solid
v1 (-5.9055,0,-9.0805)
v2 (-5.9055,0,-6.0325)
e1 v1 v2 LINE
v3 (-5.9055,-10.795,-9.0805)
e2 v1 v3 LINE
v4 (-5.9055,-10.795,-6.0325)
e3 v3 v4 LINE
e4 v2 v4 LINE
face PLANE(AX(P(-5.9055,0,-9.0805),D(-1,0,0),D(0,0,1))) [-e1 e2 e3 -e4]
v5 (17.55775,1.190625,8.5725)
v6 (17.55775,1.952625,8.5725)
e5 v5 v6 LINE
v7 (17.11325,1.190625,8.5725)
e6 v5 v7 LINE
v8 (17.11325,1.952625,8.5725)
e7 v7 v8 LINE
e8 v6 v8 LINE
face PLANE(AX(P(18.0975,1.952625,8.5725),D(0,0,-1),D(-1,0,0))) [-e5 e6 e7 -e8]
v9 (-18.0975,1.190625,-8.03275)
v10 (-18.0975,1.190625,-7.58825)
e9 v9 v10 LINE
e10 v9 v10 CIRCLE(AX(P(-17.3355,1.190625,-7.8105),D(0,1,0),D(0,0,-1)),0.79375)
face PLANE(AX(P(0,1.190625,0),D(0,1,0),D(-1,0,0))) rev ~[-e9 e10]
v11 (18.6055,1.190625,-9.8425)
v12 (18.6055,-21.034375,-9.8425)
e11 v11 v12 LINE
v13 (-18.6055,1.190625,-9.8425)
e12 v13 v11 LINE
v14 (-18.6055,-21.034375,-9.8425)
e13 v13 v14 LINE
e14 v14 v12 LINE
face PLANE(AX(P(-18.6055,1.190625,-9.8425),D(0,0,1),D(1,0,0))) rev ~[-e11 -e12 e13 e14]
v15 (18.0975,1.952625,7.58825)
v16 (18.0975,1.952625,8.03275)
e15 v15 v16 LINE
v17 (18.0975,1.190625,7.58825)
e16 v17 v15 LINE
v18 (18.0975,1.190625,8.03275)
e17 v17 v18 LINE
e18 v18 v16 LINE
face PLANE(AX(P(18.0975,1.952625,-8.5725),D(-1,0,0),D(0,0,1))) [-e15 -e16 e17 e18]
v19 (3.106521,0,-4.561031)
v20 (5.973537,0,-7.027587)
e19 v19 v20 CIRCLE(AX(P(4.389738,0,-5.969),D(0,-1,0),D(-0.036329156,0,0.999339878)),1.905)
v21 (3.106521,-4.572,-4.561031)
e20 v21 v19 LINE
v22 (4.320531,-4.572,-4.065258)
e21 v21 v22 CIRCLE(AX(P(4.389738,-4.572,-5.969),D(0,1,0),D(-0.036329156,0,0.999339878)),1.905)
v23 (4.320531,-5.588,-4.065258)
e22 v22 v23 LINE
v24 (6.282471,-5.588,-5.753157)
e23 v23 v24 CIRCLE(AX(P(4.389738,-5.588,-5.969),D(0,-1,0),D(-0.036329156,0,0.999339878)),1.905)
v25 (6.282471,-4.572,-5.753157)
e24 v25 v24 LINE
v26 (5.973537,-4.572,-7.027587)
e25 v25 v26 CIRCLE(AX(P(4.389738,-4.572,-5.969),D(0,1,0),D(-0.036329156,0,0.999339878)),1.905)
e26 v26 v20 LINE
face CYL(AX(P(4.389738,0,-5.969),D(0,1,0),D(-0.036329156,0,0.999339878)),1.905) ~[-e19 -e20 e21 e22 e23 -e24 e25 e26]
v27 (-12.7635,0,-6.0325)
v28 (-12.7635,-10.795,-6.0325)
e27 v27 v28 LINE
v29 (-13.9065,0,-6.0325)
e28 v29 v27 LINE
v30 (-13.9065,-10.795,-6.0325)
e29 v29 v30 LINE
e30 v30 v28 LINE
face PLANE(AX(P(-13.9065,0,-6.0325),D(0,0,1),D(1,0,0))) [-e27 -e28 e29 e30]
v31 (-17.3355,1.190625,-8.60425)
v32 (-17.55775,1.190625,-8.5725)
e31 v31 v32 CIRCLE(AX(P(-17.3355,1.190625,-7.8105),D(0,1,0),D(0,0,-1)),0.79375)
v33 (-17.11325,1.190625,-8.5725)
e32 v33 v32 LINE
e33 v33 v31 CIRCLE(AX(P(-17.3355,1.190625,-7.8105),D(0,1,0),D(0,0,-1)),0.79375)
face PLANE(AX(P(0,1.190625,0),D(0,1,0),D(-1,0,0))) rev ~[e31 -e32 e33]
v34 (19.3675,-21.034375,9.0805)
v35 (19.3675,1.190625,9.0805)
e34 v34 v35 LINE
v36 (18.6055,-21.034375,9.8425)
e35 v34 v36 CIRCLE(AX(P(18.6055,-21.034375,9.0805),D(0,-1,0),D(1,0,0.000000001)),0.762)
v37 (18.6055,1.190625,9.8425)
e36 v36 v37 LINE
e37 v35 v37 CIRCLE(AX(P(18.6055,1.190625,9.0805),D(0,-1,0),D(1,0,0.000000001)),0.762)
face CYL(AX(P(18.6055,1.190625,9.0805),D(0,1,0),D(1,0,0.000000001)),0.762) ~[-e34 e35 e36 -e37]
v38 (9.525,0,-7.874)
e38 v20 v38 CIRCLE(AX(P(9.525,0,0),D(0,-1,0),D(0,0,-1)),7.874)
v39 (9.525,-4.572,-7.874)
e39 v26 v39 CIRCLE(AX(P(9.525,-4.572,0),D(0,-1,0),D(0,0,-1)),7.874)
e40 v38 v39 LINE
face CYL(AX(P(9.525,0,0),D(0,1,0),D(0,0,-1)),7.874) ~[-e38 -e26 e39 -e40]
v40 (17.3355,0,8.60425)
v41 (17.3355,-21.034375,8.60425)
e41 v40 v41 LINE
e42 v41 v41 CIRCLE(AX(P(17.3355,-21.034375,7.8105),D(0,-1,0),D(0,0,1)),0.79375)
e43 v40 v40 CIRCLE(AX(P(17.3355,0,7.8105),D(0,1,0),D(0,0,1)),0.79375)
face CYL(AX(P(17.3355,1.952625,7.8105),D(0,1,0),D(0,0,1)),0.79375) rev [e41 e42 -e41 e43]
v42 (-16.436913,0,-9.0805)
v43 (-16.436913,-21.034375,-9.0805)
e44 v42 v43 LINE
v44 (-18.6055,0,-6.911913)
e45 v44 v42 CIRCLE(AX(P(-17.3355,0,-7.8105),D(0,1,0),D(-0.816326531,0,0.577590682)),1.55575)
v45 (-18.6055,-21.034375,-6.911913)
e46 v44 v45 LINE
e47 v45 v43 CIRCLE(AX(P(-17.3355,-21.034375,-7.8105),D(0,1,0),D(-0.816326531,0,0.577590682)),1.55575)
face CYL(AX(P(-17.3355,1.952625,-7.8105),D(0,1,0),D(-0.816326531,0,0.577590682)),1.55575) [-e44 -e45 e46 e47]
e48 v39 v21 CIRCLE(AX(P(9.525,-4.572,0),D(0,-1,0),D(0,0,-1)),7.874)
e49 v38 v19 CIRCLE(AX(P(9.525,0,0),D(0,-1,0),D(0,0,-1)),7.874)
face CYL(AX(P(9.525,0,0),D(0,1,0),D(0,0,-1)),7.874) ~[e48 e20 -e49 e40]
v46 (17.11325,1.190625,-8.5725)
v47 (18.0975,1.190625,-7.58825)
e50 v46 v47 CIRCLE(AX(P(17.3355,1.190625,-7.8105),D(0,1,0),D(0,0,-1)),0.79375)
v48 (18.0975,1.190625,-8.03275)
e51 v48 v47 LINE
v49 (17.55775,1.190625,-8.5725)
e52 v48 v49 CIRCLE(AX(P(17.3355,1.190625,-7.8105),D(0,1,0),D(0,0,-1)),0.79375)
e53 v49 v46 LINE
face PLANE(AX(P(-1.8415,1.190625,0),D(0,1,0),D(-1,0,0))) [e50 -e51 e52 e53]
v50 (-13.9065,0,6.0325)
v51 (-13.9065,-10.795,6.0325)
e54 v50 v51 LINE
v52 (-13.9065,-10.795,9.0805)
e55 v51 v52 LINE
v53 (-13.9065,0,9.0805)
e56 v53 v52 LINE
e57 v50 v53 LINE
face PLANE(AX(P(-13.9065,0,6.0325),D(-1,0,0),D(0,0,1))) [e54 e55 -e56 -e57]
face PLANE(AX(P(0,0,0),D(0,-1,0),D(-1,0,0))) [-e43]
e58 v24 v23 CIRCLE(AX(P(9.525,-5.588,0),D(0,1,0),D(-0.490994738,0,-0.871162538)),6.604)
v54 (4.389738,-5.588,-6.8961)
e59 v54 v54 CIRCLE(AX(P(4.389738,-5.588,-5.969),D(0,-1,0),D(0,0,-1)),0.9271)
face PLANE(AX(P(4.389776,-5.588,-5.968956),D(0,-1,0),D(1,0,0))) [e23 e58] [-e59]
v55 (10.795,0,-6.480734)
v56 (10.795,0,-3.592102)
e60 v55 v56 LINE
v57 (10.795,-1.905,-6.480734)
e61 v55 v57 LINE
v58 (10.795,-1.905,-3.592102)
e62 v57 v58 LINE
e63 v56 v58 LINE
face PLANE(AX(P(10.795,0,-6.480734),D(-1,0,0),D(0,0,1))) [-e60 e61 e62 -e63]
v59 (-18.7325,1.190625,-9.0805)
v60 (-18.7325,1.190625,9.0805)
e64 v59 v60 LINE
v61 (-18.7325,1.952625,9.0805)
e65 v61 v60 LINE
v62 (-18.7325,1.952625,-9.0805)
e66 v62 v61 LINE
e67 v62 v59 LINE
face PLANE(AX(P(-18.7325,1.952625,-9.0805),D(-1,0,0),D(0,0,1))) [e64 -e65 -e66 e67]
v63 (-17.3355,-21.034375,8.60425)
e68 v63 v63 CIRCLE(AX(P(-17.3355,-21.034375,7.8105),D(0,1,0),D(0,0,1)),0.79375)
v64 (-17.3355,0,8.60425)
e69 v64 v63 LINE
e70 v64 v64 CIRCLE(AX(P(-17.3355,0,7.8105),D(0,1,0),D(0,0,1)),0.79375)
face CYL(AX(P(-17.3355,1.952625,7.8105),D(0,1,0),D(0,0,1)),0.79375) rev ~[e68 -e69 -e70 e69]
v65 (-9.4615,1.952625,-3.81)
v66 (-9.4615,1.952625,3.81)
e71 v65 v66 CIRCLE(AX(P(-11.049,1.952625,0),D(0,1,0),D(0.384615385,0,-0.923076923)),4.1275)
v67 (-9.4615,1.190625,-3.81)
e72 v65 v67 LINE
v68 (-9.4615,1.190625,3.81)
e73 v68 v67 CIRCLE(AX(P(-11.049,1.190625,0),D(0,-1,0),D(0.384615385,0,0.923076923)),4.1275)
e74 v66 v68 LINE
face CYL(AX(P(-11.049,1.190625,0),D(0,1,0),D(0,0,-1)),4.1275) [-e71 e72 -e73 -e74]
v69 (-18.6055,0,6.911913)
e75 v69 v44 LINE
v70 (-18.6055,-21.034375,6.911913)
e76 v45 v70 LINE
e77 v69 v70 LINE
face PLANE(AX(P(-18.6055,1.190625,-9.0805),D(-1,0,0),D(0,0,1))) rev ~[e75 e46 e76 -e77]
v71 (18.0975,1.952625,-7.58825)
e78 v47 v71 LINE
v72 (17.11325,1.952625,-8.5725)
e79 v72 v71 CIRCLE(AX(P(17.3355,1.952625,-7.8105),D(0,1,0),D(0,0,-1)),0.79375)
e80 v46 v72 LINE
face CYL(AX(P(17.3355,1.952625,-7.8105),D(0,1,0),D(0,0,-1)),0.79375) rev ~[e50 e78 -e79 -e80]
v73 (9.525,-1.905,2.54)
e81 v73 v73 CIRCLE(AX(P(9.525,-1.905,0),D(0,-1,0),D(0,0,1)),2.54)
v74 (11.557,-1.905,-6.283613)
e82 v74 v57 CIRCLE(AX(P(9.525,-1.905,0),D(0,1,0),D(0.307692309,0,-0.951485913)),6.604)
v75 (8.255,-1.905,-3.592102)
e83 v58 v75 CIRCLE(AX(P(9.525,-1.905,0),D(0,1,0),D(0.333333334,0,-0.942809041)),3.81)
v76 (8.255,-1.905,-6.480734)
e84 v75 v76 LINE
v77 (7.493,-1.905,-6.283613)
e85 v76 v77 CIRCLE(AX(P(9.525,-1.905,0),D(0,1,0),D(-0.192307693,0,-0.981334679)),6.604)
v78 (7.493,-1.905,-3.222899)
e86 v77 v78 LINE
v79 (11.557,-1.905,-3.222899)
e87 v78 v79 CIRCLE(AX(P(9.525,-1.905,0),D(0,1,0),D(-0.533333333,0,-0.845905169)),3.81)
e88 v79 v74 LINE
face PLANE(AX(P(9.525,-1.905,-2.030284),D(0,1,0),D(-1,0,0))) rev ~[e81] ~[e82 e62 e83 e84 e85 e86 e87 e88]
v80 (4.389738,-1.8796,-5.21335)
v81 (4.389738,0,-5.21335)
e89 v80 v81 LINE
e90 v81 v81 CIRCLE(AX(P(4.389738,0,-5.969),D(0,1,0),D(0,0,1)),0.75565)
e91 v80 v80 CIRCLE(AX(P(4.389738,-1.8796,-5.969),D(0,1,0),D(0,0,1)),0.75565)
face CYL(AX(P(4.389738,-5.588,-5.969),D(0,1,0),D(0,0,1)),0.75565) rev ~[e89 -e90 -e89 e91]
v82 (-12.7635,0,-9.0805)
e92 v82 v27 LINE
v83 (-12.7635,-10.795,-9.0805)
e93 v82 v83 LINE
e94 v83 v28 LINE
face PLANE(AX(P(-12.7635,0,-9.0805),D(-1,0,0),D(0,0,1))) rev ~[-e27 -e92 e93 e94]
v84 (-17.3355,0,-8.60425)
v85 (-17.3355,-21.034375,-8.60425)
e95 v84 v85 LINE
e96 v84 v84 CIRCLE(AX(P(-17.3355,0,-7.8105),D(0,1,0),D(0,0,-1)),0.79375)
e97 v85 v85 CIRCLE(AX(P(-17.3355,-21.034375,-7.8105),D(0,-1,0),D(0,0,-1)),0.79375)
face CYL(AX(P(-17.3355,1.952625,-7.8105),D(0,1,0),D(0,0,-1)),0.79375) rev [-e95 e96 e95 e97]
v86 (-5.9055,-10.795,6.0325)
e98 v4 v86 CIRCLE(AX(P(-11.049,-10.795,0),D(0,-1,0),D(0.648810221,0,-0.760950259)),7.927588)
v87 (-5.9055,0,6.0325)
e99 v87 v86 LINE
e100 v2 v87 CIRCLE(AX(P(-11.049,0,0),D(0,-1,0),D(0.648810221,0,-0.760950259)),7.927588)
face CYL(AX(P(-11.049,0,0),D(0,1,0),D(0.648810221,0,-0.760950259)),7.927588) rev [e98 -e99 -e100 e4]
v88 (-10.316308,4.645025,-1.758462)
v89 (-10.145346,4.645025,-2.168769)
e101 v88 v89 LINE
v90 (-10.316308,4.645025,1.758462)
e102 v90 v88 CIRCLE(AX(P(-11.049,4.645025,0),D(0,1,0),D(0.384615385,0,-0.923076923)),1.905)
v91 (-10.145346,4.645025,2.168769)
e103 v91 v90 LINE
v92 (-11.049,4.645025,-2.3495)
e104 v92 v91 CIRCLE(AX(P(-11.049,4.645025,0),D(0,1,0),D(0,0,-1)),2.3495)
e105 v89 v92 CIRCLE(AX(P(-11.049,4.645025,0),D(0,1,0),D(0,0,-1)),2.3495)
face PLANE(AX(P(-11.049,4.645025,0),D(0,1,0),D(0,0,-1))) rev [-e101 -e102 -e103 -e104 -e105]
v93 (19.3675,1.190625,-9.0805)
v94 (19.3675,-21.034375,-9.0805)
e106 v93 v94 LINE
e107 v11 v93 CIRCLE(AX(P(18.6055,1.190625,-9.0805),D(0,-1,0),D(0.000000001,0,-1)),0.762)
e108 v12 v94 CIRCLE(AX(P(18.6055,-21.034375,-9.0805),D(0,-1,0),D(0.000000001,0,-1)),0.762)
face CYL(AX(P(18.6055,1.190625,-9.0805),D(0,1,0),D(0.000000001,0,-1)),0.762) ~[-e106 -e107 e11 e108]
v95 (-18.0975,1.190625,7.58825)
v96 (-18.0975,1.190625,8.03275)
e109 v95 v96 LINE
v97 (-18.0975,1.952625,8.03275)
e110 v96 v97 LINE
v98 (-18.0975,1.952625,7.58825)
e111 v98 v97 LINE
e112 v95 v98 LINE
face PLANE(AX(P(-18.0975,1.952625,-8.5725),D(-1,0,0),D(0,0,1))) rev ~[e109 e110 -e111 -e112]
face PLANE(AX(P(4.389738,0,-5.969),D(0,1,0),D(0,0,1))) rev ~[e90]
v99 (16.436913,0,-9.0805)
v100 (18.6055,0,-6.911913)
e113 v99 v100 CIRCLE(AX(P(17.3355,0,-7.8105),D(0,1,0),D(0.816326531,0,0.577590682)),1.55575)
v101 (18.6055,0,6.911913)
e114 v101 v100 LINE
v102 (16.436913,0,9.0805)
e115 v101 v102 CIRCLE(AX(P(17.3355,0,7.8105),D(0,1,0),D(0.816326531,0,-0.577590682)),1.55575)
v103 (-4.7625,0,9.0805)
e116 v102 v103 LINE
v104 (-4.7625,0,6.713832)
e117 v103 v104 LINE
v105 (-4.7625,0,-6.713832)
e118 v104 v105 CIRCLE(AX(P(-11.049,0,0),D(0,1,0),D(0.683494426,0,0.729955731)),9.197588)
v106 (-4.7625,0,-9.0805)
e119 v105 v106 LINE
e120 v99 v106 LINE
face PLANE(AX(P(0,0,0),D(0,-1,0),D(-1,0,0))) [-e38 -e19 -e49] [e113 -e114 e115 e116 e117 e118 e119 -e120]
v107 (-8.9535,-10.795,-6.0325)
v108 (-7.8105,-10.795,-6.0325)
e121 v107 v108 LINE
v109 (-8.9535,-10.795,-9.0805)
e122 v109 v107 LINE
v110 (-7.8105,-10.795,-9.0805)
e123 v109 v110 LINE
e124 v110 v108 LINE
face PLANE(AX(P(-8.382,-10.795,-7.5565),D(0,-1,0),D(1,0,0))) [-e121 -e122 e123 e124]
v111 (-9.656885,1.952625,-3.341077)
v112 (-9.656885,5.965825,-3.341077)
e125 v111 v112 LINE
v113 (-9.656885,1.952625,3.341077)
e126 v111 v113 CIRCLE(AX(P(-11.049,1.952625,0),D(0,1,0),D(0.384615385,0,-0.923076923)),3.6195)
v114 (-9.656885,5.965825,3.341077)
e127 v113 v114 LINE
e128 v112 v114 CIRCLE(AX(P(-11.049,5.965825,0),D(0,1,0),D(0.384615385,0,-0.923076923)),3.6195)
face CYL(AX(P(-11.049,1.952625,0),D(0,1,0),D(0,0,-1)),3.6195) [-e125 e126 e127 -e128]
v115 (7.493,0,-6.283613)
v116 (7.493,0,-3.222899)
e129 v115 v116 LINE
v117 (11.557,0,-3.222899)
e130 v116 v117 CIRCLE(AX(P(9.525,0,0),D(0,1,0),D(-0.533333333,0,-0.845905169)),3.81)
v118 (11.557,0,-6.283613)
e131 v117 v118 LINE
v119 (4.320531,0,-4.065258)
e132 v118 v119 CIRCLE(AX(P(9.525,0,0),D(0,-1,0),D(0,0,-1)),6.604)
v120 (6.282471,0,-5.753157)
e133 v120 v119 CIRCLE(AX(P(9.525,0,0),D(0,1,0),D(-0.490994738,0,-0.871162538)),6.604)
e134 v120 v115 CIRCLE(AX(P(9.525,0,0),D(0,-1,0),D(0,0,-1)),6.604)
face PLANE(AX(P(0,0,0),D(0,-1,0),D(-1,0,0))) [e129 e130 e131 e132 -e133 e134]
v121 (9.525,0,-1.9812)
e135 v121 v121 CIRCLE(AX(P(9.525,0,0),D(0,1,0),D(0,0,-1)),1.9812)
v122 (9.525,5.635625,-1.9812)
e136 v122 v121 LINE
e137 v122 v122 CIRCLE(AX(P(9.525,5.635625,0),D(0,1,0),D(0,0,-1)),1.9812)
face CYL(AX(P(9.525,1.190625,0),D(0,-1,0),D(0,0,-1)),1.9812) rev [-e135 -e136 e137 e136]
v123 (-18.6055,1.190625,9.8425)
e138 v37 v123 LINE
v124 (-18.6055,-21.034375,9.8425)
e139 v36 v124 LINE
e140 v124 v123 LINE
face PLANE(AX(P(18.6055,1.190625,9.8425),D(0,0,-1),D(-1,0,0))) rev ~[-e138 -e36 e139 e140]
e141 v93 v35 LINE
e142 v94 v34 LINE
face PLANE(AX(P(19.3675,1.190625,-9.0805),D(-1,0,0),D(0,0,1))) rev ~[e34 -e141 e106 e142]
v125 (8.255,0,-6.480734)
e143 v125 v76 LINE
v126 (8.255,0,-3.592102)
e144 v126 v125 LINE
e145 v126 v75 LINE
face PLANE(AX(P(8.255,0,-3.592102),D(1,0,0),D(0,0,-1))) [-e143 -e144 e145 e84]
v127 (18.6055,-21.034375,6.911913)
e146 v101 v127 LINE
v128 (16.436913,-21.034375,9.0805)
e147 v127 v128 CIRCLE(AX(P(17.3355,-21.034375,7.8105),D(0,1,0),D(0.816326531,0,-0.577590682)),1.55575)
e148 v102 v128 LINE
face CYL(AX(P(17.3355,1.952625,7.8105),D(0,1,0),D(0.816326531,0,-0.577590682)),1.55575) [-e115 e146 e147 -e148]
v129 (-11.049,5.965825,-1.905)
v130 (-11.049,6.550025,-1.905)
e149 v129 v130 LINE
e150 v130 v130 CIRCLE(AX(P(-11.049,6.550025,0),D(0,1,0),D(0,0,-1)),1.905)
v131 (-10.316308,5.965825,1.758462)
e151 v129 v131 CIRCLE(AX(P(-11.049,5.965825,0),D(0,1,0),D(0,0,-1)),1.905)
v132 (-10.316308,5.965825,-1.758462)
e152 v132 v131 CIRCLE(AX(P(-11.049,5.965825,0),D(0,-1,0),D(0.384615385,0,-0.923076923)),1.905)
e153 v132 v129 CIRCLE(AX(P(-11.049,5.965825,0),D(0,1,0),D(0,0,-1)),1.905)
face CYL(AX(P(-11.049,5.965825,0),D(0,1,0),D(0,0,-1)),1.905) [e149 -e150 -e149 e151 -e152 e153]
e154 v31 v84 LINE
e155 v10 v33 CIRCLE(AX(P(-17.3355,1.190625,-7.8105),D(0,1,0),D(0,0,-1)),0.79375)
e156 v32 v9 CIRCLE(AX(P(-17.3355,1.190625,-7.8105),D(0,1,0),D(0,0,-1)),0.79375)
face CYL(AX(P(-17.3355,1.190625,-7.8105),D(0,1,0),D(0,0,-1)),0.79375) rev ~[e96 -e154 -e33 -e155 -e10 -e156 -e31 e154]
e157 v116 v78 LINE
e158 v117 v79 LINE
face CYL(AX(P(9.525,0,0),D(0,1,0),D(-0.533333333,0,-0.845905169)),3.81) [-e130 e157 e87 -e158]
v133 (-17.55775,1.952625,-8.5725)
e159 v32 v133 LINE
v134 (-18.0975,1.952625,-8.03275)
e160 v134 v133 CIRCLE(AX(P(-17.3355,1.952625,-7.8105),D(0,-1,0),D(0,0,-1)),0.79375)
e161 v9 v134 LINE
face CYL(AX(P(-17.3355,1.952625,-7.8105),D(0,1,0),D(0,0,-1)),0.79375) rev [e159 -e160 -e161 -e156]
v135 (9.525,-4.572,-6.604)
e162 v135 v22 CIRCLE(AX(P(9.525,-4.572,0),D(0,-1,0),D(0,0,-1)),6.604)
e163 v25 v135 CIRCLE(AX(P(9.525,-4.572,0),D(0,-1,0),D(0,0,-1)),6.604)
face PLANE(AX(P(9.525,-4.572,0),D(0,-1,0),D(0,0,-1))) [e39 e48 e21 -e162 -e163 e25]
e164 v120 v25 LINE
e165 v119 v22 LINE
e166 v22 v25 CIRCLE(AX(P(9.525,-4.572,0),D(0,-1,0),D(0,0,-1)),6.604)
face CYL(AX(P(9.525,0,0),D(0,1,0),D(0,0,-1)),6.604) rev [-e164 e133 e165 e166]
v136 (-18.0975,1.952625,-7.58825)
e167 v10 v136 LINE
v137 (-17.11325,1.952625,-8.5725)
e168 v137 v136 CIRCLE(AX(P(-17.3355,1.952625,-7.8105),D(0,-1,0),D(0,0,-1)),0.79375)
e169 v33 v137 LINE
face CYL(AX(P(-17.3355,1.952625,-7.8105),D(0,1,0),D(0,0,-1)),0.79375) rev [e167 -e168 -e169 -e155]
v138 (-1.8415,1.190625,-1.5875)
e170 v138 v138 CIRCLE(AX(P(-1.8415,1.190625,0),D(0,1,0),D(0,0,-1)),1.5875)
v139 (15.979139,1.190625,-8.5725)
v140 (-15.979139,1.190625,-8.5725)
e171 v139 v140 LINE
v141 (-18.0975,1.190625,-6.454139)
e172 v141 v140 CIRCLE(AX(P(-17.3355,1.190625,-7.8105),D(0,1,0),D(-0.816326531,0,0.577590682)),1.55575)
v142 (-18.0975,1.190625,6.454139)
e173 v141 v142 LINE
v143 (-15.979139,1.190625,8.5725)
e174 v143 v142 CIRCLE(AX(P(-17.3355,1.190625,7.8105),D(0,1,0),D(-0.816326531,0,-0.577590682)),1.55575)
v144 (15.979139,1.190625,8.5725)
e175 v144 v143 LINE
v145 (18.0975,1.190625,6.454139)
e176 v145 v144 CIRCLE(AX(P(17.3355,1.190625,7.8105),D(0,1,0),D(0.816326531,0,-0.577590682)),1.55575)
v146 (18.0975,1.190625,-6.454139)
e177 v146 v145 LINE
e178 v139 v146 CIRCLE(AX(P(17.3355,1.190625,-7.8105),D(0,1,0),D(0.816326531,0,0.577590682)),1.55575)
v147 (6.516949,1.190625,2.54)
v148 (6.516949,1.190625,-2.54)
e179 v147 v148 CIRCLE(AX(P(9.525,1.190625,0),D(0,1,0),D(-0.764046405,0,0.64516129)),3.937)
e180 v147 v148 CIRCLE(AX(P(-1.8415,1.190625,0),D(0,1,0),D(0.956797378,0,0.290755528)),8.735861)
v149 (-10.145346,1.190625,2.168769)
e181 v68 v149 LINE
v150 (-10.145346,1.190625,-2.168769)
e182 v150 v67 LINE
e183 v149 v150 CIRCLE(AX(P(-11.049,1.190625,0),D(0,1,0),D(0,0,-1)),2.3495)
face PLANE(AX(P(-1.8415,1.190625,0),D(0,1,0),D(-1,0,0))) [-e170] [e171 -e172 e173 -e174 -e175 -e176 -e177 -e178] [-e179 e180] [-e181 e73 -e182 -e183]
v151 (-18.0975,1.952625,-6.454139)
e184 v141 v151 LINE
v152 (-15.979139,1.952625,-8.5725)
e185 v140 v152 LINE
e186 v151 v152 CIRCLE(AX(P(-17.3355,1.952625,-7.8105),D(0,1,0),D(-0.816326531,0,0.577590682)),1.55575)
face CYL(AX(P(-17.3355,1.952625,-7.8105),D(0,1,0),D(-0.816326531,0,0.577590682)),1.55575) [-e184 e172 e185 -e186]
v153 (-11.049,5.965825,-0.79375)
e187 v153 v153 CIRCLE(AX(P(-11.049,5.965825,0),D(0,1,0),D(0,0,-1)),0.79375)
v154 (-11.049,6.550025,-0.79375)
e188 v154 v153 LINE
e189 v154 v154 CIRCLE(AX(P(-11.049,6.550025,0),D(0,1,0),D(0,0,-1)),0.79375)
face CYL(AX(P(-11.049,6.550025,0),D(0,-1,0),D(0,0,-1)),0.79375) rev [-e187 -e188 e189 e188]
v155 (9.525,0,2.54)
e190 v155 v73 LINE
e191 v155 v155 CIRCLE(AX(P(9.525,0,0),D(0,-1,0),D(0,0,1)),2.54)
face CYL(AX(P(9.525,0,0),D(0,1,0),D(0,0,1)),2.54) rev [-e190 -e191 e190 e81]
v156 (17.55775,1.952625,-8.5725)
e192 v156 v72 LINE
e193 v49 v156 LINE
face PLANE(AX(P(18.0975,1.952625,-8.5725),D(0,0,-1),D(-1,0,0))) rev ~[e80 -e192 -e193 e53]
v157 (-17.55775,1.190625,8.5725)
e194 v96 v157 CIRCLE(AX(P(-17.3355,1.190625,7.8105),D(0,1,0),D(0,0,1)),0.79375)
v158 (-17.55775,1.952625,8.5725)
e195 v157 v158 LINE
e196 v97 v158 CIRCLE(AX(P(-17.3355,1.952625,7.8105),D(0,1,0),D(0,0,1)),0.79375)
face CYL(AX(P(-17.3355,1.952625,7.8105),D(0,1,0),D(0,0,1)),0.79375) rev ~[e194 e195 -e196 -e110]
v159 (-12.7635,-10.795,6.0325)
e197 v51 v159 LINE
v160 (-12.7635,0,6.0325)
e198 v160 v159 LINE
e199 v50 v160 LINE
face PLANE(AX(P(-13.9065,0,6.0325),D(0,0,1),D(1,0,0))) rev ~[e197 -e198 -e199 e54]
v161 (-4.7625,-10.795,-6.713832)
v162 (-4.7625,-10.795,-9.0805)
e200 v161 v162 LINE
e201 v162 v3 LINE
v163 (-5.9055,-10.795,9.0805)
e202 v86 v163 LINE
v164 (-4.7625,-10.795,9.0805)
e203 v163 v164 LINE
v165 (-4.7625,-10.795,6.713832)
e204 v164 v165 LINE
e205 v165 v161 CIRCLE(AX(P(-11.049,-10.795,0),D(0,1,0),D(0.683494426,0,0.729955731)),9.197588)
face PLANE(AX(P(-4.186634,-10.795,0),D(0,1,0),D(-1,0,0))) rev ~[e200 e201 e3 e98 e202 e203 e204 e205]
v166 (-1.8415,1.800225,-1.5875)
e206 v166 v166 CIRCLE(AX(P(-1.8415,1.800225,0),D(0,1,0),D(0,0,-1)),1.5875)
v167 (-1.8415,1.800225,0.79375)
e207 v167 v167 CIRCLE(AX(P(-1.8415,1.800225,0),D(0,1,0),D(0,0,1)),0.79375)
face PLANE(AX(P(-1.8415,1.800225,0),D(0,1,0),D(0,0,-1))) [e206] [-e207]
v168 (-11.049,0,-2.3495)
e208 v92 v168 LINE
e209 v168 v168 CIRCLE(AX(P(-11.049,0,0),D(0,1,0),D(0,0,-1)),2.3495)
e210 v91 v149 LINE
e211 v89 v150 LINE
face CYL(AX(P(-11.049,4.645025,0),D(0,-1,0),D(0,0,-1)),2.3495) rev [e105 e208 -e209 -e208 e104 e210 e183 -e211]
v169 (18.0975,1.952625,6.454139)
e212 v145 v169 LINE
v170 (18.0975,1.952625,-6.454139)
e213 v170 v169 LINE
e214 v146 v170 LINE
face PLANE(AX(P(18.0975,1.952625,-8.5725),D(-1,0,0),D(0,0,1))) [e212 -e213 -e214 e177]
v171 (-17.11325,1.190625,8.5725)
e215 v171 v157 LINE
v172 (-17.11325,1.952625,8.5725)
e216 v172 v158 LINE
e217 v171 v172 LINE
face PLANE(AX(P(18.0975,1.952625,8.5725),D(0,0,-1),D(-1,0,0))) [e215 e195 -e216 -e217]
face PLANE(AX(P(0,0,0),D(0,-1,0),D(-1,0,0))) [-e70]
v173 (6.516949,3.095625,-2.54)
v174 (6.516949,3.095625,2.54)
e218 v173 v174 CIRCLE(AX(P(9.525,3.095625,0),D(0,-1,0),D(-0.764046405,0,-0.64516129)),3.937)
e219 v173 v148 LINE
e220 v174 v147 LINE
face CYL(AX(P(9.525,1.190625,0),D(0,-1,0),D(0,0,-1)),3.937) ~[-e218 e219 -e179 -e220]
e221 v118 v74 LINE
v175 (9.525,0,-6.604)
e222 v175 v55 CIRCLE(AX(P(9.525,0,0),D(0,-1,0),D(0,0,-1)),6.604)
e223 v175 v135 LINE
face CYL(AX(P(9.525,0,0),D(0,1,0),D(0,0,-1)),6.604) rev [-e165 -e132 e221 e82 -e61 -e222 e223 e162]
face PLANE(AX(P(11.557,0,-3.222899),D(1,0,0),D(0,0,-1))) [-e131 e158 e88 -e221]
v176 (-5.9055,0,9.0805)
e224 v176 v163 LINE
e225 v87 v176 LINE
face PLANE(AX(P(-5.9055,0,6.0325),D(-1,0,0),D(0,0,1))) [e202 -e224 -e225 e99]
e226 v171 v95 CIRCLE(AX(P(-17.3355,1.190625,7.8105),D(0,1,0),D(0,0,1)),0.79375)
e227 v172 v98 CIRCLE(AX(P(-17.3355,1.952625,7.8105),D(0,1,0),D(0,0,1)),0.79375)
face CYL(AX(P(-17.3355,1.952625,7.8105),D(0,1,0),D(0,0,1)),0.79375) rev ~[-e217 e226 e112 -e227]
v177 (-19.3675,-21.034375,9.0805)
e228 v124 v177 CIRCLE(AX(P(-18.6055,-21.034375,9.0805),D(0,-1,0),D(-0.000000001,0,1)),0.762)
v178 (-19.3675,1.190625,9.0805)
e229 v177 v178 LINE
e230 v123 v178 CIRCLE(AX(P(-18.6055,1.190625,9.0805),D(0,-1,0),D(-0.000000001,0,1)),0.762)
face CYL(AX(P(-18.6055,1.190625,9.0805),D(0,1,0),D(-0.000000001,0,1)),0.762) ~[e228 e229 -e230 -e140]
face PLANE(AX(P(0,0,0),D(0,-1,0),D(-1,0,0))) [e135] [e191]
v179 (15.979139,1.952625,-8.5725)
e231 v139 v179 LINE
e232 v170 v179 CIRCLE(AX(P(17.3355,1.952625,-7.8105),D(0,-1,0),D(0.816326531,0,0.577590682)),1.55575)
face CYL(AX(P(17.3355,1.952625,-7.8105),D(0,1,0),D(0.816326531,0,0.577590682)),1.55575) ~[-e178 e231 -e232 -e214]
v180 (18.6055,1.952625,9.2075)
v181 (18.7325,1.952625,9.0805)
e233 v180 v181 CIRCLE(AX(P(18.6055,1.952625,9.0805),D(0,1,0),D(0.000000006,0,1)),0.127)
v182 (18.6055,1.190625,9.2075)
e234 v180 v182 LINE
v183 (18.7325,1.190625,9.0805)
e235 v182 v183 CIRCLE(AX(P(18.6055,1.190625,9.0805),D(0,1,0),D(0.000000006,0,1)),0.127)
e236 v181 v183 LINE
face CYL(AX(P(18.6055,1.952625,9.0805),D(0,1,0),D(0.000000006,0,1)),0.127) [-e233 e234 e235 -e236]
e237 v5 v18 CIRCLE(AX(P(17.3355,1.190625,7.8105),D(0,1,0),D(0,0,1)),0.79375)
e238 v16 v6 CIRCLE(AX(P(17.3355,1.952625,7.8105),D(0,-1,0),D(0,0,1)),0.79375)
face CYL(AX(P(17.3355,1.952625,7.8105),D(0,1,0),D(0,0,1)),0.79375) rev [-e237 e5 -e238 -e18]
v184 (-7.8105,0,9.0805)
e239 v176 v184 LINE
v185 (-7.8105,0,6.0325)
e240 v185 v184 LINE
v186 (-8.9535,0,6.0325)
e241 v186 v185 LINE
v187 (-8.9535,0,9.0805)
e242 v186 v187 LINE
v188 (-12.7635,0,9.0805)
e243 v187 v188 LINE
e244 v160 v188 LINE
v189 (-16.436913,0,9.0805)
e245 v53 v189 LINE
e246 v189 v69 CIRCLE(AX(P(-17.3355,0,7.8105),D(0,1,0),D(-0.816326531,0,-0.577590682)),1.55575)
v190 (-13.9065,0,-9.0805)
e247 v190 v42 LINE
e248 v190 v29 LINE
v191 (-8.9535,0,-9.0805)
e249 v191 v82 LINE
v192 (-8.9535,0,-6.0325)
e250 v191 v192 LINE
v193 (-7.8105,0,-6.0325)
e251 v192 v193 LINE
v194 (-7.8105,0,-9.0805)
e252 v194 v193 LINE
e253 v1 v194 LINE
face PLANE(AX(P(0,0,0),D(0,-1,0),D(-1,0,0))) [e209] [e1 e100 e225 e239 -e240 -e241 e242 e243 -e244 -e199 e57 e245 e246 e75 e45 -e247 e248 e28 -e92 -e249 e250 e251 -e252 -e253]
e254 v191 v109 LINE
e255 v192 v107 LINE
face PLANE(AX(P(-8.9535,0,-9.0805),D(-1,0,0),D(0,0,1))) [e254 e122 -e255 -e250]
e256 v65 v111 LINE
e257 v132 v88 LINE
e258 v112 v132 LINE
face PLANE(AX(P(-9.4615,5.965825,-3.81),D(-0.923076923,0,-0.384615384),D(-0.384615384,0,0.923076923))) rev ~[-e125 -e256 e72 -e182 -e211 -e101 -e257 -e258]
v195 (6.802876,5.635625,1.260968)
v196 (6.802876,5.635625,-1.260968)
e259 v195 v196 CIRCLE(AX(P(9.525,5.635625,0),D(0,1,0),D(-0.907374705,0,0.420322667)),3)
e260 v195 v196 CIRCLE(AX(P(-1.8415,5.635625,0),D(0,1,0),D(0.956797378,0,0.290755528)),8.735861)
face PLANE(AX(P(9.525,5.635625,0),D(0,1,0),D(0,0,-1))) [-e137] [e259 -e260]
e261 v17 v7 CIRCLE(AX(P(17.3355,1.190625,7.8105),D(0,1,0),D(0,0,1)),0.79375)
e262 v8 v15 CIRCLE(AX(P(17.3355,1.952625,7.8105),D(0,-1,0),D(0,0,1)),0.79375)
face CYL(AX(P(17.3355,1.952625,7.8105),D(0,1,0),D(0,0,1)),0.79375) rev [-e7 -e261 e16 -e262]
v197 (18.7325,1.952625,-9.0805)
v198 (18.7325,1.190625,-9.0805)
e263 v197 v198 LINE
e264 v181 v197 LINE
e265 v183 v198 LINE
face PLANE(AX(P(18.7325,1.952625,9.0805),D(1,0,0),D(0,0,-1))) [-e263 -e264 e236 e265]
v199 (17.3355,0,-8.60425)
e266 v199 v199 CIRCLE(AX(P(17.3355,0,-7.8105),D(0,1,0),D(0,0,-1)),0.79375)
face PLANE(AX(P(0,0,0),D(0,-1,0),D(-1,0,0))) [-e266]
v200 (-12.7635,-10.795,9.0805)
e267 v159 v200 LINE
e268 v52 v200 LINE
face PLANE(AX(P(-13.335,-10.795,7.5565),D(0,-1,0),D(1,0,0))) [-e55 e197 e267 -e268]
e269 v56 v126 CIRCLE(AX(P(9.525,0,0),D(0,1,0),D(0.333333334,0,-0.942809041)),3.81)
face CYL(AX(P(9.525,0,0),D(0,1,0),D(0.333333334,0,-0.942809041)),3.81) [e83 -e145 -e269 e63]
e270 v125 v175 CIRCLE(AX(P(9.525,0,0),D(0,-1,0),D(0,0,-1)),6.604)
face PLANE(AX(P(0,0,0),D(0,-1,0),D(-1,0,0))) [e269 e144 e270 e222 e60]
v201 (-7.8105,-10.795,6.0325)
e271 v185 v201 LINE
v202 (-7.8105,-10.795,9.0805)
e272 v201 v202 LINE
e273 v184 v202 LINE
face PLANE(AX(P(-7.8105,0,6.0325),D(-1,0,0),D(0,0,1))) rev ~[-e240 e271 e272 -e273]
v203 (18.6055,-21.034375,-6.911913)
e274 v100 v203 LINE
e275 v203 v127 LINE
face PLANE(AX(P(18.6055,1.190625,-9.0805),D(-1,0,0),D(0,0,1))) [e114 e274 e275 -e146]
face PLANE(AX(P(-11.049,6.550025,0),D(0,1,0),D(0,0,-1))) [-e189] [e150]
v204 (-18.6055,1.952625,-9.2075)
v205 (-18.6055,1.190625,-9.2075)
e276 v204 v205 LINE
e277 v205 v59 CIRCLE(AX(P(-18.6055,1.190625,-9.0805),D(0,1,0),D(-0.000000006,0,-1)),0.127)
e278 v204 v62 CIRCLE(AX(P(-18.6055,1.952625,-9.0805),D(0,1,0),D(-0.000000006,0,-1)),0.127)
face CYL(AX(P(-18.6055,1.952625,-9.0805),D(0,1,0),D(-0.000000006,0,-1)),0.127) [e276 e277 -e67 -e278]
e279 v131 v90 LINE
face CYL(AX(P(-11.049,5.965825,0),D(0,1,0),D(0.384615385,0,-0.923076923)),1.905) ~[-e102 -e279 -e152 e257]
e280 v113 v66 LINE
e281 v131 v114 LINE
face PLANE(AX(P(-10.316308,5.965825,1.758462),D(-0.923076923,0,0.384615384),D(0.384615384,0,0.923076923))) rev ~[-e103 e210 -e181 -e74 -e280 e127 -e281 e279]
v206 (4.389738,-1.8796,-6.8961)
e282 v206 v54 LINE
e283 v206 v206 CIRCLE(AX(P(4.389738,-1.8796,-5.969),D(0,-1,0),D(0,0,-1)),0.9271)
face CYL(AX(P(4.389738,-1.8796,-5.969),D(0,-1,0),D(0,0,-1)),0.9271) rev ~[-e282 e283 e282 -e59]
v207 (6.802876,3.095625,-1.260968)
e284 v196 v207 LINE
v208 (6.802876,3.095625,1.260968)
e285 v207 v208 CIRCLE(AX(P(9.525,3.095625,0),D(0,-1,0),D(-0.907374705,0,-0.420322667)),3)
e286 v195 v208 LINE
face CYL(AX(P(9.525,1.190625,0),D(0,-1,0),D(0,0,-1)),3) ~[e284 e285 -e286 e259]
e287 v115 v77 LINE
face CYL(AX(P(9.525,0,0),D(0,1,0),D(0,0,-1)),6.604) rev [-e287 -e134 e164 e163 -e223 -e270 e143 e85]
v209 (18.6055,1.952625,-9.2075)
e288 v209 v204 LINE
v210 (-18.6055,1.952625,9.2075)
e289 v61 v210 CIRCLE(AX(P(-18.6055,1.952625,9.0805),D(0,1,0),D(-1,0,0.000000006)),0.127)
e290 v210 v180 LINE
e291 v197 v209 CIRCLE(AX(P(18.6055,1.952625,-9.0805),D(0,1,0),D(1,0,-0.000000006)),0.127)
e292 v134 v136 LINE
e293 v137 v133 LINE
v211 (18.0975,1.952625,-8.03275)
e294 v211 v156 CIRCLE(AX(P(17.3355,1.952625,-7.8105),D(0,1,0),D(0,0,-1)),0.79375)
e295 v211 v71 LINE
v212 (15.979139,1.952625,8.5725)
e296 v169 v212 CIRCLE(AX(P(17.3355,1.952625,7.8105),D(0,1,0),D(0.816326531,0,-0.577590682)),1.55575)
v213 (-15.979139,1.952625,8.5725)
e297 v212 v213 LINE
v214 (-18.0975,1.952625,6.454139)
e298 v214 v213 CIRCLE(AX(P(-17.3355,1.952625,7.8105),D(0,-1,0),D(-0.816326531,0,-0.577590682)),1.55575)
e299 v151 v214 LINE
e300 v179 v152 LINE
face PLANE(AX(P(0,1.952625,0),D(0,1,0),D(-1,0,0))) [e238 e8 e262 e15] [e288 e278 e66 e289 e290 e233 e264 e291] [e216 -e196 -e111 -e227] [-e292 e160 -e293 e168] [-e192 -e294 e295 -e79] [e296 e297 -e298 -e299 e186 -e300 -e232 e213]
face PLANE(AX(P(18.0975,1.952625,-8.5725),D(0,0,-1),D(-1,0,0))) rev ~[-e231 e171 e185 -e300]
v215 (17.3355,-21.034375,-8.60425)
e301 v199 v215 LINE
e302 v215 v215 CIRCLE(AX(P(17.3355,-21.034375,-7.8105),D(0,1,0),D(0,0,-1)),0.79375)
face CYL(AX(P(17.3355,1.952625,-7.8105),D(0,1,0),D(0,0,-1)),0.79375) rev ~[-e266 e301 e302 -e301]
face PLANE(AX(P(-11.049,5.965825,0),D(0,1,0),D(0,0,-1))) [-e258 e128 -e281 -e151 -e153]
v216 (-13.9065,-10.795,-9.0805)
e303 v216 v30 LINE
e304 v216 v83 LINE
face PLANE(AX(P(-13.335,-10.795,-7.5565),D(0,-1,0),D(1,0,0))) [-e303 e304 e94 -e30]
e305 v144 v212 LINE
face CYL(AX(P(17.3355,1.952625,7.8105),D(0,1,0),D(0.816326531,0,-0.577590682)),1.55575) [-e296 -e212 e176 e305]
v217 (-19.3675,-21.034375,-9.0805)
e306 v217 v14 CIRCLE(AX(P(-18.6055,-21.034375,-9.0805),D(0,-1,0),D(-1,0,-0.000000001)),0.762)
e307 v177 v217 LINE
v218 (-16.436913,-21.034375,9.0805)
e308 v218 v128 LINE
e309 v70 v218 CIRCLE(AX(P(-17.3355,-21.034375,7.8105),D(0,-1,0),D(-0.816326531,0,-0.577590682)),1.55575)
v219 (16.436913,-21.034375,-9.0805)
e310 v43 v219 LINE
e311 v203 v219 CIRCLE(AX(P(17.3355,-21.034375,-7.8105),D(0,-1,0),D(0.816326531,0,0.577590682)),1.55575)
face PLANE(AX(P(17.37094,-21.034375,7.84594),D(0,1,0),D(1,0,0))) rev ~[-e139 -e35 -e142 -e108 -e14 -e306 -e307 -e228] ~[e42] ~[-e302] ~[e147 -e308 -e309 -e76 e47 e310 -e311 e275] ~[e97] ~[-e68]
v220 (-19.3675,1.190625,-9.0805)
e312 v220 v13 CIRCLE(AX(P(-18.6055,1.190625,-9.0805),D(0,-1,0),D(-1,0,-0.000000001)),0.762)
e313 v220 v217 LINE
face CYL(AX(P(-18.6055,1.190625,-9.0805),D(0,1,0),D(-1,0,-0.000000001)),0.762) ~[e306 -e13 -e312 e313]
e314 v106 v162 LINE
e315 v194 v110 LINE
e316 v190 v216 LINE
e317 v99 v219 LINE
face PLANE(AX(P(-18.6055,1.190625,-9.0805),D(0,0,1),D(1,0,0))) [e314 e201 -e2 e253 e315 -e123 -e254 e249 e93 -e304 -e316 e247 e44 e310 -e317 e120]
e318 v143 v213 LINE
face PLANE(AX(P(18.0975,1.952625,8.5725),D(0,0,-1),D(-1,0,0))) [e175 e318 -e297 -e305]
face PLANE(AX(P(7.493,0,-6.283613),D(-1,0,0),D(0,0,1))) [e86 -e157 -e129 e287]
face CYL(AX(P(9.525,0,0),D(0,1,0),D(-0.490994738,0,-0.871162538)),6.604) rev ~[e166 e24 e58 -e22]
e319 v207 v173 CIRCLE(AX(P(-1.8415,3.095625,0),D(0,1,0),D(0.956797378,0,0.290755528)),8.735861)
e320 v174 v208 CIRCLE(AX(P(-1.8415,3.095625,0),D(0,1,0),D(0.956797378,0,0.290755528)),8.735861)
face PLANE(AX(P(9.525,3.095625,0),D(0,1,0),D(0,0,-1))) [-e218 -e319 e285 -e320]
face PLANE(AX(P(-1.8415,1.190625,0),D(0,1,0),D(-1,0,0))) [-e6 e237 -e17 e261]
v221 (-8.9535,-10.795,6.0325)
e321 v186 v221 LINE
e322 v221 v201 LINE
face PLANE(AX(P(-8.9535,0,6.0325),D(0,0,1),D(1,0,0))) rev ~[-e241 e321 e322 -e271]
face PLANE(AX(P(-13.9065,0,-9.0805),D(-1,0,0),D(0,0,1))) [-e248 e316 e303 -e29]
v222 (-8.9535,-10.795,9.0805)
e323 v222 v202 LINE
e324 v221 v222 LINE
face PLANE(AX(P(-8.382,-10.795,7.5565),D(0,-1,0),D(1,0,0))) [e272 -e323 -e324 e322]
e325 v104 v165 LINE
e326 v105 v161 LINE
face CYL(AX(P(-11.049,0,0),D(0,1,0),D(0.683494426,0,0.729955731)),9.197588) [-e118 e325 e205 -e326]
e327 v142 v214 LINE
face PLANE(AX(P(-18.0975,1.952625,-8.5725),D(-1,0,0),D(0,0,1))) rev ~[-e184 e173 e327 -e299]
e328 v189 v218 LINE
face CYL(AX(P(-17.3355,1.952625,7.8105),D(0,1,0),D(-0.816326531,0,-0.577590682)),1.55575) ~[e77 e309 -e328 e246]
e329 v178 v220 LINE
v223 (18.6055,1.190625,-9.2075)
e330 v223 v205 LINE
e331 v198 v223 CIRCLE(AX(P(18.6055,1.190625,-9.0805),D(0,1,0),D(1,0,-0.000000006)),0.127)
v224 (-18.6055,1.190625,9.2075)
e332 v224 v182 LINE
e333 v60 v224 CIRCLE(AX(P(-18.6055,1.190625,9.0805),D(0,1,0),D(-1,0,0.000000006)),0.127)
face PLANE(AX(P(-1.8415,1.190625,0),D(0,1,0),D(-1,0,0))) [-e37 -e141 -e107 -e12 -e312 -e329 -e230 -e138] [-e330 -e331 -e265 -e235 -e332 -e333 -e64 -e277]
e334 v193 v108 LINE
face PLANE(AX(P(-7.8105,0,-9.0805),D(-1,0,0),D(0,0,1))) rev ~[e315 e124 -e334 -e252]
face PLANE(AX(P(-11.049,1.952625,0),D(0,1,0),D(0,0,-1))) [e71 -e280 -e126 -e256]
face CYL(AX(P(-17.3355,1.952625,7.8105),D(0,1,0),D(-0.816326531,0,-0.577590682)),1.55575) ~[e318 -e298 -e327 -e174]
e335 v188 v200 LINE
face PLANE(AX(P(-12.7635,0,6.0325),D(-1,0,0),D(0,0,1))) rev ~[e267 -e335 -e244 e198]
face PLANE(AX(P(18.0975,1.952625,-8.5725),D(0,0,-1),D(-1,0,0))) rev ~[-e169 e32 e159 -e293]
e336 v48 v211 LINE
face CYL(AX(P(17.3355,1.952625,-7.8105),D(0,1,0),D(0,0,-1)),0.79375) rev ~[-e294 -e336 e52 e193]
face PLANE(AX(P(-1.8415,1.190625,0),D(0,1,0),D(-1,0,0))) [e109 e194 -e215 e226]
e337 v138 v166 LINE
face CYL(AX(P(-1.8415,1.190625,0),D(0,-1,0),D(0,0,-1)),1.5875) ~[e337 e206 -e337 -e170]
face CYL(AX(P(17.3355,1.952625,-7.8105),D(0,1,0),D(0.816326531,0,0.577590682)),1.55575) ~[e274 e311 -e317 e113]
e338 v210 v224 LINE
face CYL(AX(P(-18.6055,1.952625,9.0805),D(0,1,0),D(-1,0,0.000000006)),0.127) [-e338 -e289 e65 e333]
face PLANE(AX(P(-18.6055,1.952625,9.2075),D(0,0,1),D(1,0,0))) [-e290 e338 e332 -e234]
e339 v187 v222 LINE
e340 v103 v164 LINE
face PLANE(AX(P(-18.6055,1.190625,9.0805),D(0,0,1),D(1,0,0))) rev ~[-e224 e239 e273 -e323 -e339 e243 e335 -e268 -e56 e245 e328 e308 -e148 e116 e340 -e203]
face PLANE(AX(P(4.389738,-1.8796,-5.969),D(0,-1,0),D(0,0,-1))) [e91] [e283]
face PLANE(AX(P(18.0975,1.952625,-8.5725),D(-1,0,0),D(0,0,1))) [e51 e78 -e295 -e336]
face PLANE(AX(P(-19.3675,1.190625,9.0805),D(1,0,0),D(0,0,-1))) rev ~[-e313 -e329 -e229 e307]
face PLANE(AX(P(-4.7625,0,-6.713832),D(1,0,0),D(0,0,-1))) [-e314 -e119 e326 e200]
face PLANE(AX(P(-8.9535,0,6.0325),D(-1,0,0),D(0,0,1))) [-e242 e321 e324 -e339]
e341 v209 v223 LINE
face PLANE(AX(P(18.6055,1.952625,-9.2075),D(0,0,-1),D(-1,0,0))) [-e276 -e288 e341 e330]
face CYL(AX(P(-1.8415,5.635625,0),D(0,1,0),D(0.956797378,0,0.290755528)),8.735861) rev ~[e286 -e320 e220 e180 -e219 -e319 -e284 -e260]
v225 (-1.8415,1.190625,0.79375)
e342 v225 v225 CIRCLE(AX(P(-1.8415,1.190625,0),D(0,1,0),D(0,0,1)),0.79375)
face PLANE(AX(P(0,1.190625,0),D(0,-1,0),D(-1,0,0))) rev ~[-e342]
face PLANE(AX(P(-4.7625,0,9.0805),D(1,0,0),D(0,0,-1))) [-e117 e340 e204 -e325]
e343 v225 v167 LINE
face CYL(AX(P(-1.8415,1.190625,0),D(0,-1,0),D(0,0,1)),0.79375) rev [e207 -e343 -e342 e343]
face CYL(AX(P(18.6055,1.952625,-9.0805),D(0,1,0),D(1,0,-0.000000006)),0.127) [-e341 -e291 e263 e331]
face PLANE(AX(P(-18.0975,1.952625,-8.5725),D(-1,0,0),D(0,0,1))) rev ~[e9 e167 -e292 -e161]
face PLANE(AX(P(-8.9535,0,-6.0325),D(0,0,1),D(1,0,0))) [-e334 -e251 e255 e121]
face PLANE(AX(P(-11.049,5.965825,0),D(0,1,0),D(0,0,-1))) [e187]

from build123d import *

# Parameters (mm, degrees)
SKETCH1_R                       = 2.3495
SKETCH1_R_2                     = 1.9812
EXTRUDE1_DEPTH                  = 1.190625
SKETCH6_R                       = 1.5875
SKETCH6_R_2                     = 0.79375
EXTRUDE3_DEPTH                  = 0.6096
SKETCH7_R                       = 3
SKETCH7_R_2                     = 1.9812
EXTRUDE4_DEPTH                  = 4.445
SKETCH16_R                      = 3.937
SKETCH16_R_2                    = 3
EXTRUDE11_DEPTH                 = 1.905
CUT_EXTRUDE1_REACH              = 24.444
SKETCH11_R                      = 7.874
SKETCH11_R_2                    = 6.604
EXTRUDE6_DEPTH                  = 4.572
SKETCH10_W                      = 37.211
SKETCH10_H                      = 18.161
EXTRUDE5_DEPTH                  = 22.225
SKETCH13_W                      = 1.143
SKETCH13_H                      = 3.048
EXTRUDE8_DEPTH                  = 10.795
EXTRUDE9_START                  = -1.952625
SKETCH14_R                      = 0.79375
EXTRUDE9_DEPTH                  = 22.987
SKETCH23_R                      = 0.79375
CUT_EXTRUDE2_DEPTH              = 1.190625
CUT_EXTRUDE3_REACH              = 36.655
MIRROR2_START                   = -1.952625
MIRROR2_COPY_1_SKETCH_R         = 0.79375
MIRROR2_COPY_1_DEPTH            = 22.987
SKETCH18_W                      = 36.195
SKETCH18_H                      = 17.145
EXTRUDE12_DEPTH                 = 0.762
SKETCH19_R                      = 2.54
EXTRUDE13_DEPTH                 = 1.905
EXTRUDE14_DEPTH                 = 5.588
F_1_64_TAPPED_HOLE1_D           = 1.5113
F_1_64_TAPPED_HOLE1_DEPTH       = 5.588
F_1_64_TAPPED_HOLE1_CBORE_D     = 1.8542
F_1_64_TAPPED_HOLE1_CBORE_DEPTH = 3.7084


with BuildPart() as part:
    # Sketch1 → Extrude1 (new body)
    with BuildSketch(Plane(origin=(0, 0, 0), x_dir=(1, 0, 0), z_dir=(0, 1, 0))):
        with BuildLine():
            Line((-18.6055, 9.8425), (18.6055, 9.8425))
            ThreePointArc((18.6055, 9.8425), (19.144315367, 9.619315367), (19.3675, 9.0805))
            Line((19.3675, 9.0805), (19.3675, -9.0805))
            ThreePointArc((19.3675, -9.0805), (19.144315367, -9.619315367), (18.6055, -9.8425))
            Line((18.6055, -9.8425), (-18.6055, -9.8425))
            ThreePointArc((-18.6055, -9.8425), (-19.144315367, -9.619315367), (-19.3675, -9.0805))
            Line((-19.3675, -9.0805), (-19.3675, 9.0805))
            ThreePointArc((-19.3675, 9.0805), (-19.144315367, 9.619315367), (-18.6055, 9.8425))
        make_face()
        with Locations(Location((-11.049, 0, 0), (0, 0, 90))):
            Circle(SKETCH1_R, mode=Mode.SUBTRACT)
        with Locations(Location((9.525, 0, 0), (0, 0, 90))):
            Circle(SKETCH1_R_2, mode=Mode.SUBTRACT)
    extrude(amount=EXTRUDE1_DEPTH)

    # Sketch6 → Extrude3 (add)
    with BuildSketch(Plane(origin=(0, 1.190625, 0), x_dir=(-1, 0, 0), z_dir=(0, 1, 0))):
        with Locations(Location((1.8415, 0, 0), (0, 0, 270))):
            Circle(SKETCH6_R)
        with Locations(Location((1.8415, 0, 0), (0, 0, 90))):
            Circle(SKETCH6_R_2, mode=Mode.SUBTRACT)
    extrude(amount=EXTRUDE3_DEPTH)

    # Sketch7 → Extrude4 (add)
    with BuildSketch(Plane(origin=(0, 1.190625, 0), x_dir=(-1, 0, 0), z_dir=(0, 1, 0))):
        with Locations(Location((-9.525, 0, 0), (0, 0, 270))):
            Circle(SKETCH7_R)
        with Locations(Location((-9.525, 0, 0), (0, 0, 270))):
            Circle(SKETCH7_R_2, mode=Mode.SUBTRACT)
    extrude(amount=EXTRUDE4_DEPTH)

    # Sketch16 → Extrude11 (add)
    with BuildSketch(Plane(origin=(0, 1.190625, 0), x_dir=(-1, 0, 0), z_dir=(0, 1, 0))):
        with Locations(Location((-9.525, 0, 0), (0, 0, 270))):
            Circle(SKETCH16_R)
        with Locations(Location((-9.525, 0, 0), (0, 0, 90))):
            Circle(SKETCH16_R_2, mode=Mode.SUBTRACT)
    extrude(amount=EXTRUDE11_DEPTH)

    # Cut-Extrude1: up to this face of the body (flat: up to its plane)
    cut_extrude1_end = Plane(part.part.faces().sort_by_distance((0, 1.190625, -9.408000351))[0])
    # Sketch17 → Cut-Extrude1 (cut, up to the picked face)
    with BuildSketch(Plane(origin=(0, 5.635625, 0), x_dir=(-1, 0, 0), z_dir=(0, 1, 0)), mode=Mode.PRIVATE) as cut_extrude1_sk1:
        with BuildLine():
            ThreePointArc((-6.516949302, 2.54), (-6.894361419, 0), (-6.516949302, -2.54))
            ThreePointArc((-6.516949302, -2.54), (-5.588, 0), (-6.516949302, 2.54))
        make_face()
    cut_extrude1_tool1 = split(extrude(cut_extrude1_sk1.sketch, amount=-CUT_EXTRUDE1_REACH, mode=Mode.PRIVATE), bisect_by=cut_extrude1_end, keep=Keep.BOTH, mode=Mode.PRIVATE)
    add(cut_extrude1_tool1.solids().sort_by(Axis((6.291228, 5.635625, 0), (0, -1, 0)))[0], mode=Mode.SUBTRACT)

    # Sketch11 → Extrude6 (add)
    with BuildSketch(Plane.XZ):
        with Locations(Location((9.525, 0, 0), (0, 0, 270))):
            Circle(SKETCH11_R)
        with Locations(Location((9.525, 0, 0), (0, 0, 270))):
            Circle(SKETCH11_R_2, mode=Mode.SUBTRACT)
    extrude(amount=EXTRUDE6_DEPTH)

    # Sketch10 → Extrude5 (add)
    with BuildSketch(Plane.XZ.offset(-1.190625)):
        with BuildLine():
            Line((-19.3675, 9.0805), (-19.3675, -9.0805))
            ThreePointArc((-19.3675, -9.0805), (-19.144315367, -9.619315367), (-18.6055, -9.8425))
            Line((-18.6055, -9.8425), (18.6055, -9.8425))
            ThreePointArc((18.6055, -9.8425), (19.144315367, -9.619315367), (19.3675, -9.0805))
            Line((19.3675, -9.0805), (19.3675, 9.0805))
            ThreePointArc((19.3675, 9.0805), (19.144315367, 9.619315367), (18.6055, 9.8425))
            Line((18.6055, 9.8425), (-18.6055, 9.8425))
            ThreePointArc((-18.6055, 9.8425), (-19.144315367, 9.619315367), (-19.3675, 9.0805))
        make_face()
        Rectangle(SKETCH10_W, SKETCH10_H, mode=Mode.SUBTRACT)
    extrude(amount=EXTRUDE5_DEPTH)

    # Sketch13 → Extrude8 (add)
    with BuildSketch(Plane.XZ):
        with BuildLine():
            Line((-5.9055, 6.0325), (-5.9055, 9.0805))
            Line((-5.9055, 9.0805), (-4.7625, 9.0805))
            Line((-4.7625, 9.0805), (-4.7625, 6.713831938))
            ThreePointArc((-4.7625, 6.713831938), (-1.851412189, 0), (-4.7625, -6.713831938))
            Line((-4.7625, -6.713831938), (-4.7625, -9.0805))
            Line((-4.7625, -9.0805), (-5.9055, -9.0805))
            Line((-5.9055, -9.0805), (-5.9055, -6.0325))
            ThreePointArc((-5.9055, -6.0325), (-3.121412189, 0), (-5.9055, 6.0325))
        make_face()
        with Locations((-8.382, 7.5565)):
            Rectangle(SKETCH13_W, SKETCH13_H)
        with Locations((-13.335, 7.5565)):
            Rectangle(SKETCH13_W, SKETCH13_H)
        with Locations((-13.335, -7.5565)):
            Rectangle(SKETCH13_W, SKETCH13_H)
        with Locations((-8.382, -7.5565)):
            Rectangle(SKETCH13_W, SKETCH13_H)
    extrude(amount=EXTRUDE8_DEPTH)

    # Sketch14 → Extrude9 (add)
    with BuildSketch(Plane.XZ.offset(EXTRUDE9_START)):
        with BuildLine():
            Line((-18.6055, -9.0805), (-18.6055, -6.911913297))
            ThreePointArc((-18.6055, -6.911913297), (-16.235418625, -6.710418625), (-16.436913297, -9.0805))
            Line((-16.436913297, -9.0805), (-18.6055, -9.0805))
        make_face()
        with Locations(Location((-17.3355, -7.8105, 0), (0, 0, 270))):
            Circle(SKETCH14_R, mode=Mode.SUBTRACT)
    extrude9 = extrude(amount=EXTRUDE9_DEPTH)

    # Sketch23 → Cut-Extrude2 (cut)
    with BuildSketch(Plane(origin=(0, 1.190625, 0), x_dir=(-1, 0, 0), z_dir=(0, 1, 0))):
        with Locations(Location((17.3355, -7.8105, 0), (0, 0, 270))):
            Circle(SKETCH23_R)
    extrude(amount=-CUT_EXTRUDE2_DEPTH, mode=Mode.SUBTRACT)

    # Sketch9 → Revolve1 (revolve)
    with BuildSketch(Plane.XY, mode=Mode.PRIVATE) as revolve1_sk:
        Polygon((-12.954, 5.965825), (-12.954, 6.550025), (-11.84275, 6.550025), (-11.84275, 5.965825), (-11.049, 5.965825), (-11.049, 4.645025), (-13.3985, 4.645025), (-13.3985, 1.190625), (-15.1765, 1.190625), (-15.1765, 1.952625), (-14.6685, 1.952625), (-14.6685, 5.965825), align=None)
    revolve(revolve1_sk.sketch.rotate(Axis((-11.049, 0, 0), (0, 1, 0)), 270), axis=Axis((-11.049, 0, 0), (0, 1, 0)))

    # Cut-Extrude3: up to this face of the body (flat: up to its plane)
    cut_extrude3_end = Plane(part.part.faces().sort_by_distance((-1.8415, 1.190625, 0))[0])
    # Sketch24 → Cut-Extrude3 (cut, up to the picked face)
    with BuildSketch(Plane(origin=(0, 5.965825, 0), x_dir=(-1, 0, 0), z_dir=(0, 1, 0)), mode=Mode.PRIVATE) as cut_extrude3_sk1:
        with BuildLine():
            Line((10.316307692, 1.758461538), (9.4615, 3.81))
            ThreePointArc((9.4615, 3.81), (6.9215, 0), (9.4615, -3.81))
            Line((9.4615, -3.81), (10.316307692, -1.758461538))
            ThreePointArc((10.316307692, -1.758461538), (9.144, 0), (10.316307692, 1.758461538))
        make_face()
    cut_extrude3_tool1 = split(extrude(cut_extrude3_sk1.sketch, amount=-CUT_EXTRUDE3_REACH, mode=Mode.PRIVATE), bisect_by=cut_extrude3_end, keep=Keep.BOTH, mode=Mode.PRIVATE)
    add(cut_extrude3_tool1.solids().sort_by(Axis((-8.574349, 5.965825, 0), (0, -1, 0)))[0], mode=Mode.SUBTRACT)

    # Mirror1: Extrude9 across plane
    add(extrude9.mirror(Plane(origin=(0, 0, 0), x_dir=(0, 0, 1), z_dir=(1, 0, 0))))

    # Mirror2: Extrude9 across plane
    add(extrude9.mirror(Plane.XY))

    # Mirror2 copy 1 sketch → Mirror2 copy 1 (add)
    with BuildSketch(Plane(origin=(0, 0, 0), x_dir=(-1, 0, 0), z_dir=(0, -1, 0)).offset(MIRROR2_START)):
        with BuildLine():
            Line((-18.6055, -9.0805), (-18.6055, -6.911913297))
            ThreePointArc((-18.6055, -6.911913297), (-16.235418625, -6.710418625), (-16.436913297, -9.0805))
            Line((-16.436913297, -9.0805), (-18.6055, -9.0805))
        make_face()
        with Locations(Location((-17.3355, -7.8105, 0), (0, 0, 270))):
            Circle(MIRROR2_COPY_1_SKETCH_R, mode=Mode.SUBTRACT)
    extrude(amount=MIRROR2_COPY_1_DEPTH)

    # Sketch18 → Extrude12 (add)
    with BuildSketch(Plane(origin=(0, 1.952625, 0), x_dir=(-1, 0, 0), z_dir=(0, 1, 0))):
        with BuildLine():
            Line((18.6055, 9.2075), (-18.6055, 9.2075))
            ThreePointArc((-18.6055, 9.2075), (-18.695302561, 9.170302561), (-18.7325, 9.0805))
            Line((-18.7325, 9.0805), (-18.7325, -9.0805))
            ThreePointArc((-18.7325, -9.0805), (-18.695302561, -9.170302561), (-18.6055, -9.2075))
            Line((-18.6055, -9.2075), (18.6055, -9.2075))
            ThreePointArc((18.6055, -9.2075), (18.695302561, -9.170302561), (18.7325, -9.0805))
            Line((18.7325, -9.0805), (18.7325, 9.0805))
            ThreePointArc((18.7325, 9.0805), (18.695302561, 9.170302561), (18.6055, 9.2075))
        make_face()
        Rectangle(SKETCH18_W, SKETCH18_H, mode=Mode.SUBTRACT)
    extrude(amount=-EXTRUDE12_DEPTH)

    # Sketch19 → Extrude13 (add)
    with BuildSketch(Plane.XZ):
        with BuildLine():
            Line((11.557, -3.222898695), (11.557, -6.283612973))
            ThreePointArc((11.557, -6.283612973), (11.178939296, -6.393535861), (10.795, -6.480734218))
            Line((10.795, -6.480734218), (10.795, -3.592102448))
            ThreePointArc((10.795, -3.592102448), (9.525, -3.81), (8.255, -3.592102448))
            Line((8.255, -3.592102448), (8.255, -6.480734218))
            ThreePointArc((8.255, -6.480734218), (7.871060704, -6.393535861), (7.493, -6.283612973))
            Line((7.493, -6.283612973), (7.493, -3.222898695))
            ThreePointArc((7.493, -3.222898695), (9.525, 3.81), (11.557, -3.222898695))
        make_face()
        with Locations(Location((9.525, 0, 0), (0, 0, 90))):
            Circle(SKETCH19_R, mode=Mode.SUBTRACT)
    extrude(amount=EXTRUDE13_DEPTH)

    # Sketch20 → Extrude14 (add)
    with BuildSketch(Plane.XZ):
        with BuildLine():
            ThreePointArc((4.320531036, -4.065257532), (3.147336001, -7.413112903), (6.282470752, -5.753157401))
            ThreePointArc((6.282470752, -5.753157401), (5.218006131, -5.006258065), (4.320531036, -4.065257532))
        make_face()
    extrude(amount=EXTRUDE14_DEPTH)

    # 1-64 Tapped Hole1
    with Locations(Plane(origin=(4.389738079, -5.588, -5.969), x_dir=(0, 0, -1), z_dir=(0, -1, 0))):
        with Locations((0, 0)):
            CounterBoreHole(F_1_64_TAPPED_HOLE1_D / 2, F_1_64_TAPPED_HOLE1_CBORE_D / 2, F_1_64_TAPPED_HOLE1_CBORE_DEPTH, depth=F_1_64_TAPPED_HOLE1_DEPTH)


solid = part.part
